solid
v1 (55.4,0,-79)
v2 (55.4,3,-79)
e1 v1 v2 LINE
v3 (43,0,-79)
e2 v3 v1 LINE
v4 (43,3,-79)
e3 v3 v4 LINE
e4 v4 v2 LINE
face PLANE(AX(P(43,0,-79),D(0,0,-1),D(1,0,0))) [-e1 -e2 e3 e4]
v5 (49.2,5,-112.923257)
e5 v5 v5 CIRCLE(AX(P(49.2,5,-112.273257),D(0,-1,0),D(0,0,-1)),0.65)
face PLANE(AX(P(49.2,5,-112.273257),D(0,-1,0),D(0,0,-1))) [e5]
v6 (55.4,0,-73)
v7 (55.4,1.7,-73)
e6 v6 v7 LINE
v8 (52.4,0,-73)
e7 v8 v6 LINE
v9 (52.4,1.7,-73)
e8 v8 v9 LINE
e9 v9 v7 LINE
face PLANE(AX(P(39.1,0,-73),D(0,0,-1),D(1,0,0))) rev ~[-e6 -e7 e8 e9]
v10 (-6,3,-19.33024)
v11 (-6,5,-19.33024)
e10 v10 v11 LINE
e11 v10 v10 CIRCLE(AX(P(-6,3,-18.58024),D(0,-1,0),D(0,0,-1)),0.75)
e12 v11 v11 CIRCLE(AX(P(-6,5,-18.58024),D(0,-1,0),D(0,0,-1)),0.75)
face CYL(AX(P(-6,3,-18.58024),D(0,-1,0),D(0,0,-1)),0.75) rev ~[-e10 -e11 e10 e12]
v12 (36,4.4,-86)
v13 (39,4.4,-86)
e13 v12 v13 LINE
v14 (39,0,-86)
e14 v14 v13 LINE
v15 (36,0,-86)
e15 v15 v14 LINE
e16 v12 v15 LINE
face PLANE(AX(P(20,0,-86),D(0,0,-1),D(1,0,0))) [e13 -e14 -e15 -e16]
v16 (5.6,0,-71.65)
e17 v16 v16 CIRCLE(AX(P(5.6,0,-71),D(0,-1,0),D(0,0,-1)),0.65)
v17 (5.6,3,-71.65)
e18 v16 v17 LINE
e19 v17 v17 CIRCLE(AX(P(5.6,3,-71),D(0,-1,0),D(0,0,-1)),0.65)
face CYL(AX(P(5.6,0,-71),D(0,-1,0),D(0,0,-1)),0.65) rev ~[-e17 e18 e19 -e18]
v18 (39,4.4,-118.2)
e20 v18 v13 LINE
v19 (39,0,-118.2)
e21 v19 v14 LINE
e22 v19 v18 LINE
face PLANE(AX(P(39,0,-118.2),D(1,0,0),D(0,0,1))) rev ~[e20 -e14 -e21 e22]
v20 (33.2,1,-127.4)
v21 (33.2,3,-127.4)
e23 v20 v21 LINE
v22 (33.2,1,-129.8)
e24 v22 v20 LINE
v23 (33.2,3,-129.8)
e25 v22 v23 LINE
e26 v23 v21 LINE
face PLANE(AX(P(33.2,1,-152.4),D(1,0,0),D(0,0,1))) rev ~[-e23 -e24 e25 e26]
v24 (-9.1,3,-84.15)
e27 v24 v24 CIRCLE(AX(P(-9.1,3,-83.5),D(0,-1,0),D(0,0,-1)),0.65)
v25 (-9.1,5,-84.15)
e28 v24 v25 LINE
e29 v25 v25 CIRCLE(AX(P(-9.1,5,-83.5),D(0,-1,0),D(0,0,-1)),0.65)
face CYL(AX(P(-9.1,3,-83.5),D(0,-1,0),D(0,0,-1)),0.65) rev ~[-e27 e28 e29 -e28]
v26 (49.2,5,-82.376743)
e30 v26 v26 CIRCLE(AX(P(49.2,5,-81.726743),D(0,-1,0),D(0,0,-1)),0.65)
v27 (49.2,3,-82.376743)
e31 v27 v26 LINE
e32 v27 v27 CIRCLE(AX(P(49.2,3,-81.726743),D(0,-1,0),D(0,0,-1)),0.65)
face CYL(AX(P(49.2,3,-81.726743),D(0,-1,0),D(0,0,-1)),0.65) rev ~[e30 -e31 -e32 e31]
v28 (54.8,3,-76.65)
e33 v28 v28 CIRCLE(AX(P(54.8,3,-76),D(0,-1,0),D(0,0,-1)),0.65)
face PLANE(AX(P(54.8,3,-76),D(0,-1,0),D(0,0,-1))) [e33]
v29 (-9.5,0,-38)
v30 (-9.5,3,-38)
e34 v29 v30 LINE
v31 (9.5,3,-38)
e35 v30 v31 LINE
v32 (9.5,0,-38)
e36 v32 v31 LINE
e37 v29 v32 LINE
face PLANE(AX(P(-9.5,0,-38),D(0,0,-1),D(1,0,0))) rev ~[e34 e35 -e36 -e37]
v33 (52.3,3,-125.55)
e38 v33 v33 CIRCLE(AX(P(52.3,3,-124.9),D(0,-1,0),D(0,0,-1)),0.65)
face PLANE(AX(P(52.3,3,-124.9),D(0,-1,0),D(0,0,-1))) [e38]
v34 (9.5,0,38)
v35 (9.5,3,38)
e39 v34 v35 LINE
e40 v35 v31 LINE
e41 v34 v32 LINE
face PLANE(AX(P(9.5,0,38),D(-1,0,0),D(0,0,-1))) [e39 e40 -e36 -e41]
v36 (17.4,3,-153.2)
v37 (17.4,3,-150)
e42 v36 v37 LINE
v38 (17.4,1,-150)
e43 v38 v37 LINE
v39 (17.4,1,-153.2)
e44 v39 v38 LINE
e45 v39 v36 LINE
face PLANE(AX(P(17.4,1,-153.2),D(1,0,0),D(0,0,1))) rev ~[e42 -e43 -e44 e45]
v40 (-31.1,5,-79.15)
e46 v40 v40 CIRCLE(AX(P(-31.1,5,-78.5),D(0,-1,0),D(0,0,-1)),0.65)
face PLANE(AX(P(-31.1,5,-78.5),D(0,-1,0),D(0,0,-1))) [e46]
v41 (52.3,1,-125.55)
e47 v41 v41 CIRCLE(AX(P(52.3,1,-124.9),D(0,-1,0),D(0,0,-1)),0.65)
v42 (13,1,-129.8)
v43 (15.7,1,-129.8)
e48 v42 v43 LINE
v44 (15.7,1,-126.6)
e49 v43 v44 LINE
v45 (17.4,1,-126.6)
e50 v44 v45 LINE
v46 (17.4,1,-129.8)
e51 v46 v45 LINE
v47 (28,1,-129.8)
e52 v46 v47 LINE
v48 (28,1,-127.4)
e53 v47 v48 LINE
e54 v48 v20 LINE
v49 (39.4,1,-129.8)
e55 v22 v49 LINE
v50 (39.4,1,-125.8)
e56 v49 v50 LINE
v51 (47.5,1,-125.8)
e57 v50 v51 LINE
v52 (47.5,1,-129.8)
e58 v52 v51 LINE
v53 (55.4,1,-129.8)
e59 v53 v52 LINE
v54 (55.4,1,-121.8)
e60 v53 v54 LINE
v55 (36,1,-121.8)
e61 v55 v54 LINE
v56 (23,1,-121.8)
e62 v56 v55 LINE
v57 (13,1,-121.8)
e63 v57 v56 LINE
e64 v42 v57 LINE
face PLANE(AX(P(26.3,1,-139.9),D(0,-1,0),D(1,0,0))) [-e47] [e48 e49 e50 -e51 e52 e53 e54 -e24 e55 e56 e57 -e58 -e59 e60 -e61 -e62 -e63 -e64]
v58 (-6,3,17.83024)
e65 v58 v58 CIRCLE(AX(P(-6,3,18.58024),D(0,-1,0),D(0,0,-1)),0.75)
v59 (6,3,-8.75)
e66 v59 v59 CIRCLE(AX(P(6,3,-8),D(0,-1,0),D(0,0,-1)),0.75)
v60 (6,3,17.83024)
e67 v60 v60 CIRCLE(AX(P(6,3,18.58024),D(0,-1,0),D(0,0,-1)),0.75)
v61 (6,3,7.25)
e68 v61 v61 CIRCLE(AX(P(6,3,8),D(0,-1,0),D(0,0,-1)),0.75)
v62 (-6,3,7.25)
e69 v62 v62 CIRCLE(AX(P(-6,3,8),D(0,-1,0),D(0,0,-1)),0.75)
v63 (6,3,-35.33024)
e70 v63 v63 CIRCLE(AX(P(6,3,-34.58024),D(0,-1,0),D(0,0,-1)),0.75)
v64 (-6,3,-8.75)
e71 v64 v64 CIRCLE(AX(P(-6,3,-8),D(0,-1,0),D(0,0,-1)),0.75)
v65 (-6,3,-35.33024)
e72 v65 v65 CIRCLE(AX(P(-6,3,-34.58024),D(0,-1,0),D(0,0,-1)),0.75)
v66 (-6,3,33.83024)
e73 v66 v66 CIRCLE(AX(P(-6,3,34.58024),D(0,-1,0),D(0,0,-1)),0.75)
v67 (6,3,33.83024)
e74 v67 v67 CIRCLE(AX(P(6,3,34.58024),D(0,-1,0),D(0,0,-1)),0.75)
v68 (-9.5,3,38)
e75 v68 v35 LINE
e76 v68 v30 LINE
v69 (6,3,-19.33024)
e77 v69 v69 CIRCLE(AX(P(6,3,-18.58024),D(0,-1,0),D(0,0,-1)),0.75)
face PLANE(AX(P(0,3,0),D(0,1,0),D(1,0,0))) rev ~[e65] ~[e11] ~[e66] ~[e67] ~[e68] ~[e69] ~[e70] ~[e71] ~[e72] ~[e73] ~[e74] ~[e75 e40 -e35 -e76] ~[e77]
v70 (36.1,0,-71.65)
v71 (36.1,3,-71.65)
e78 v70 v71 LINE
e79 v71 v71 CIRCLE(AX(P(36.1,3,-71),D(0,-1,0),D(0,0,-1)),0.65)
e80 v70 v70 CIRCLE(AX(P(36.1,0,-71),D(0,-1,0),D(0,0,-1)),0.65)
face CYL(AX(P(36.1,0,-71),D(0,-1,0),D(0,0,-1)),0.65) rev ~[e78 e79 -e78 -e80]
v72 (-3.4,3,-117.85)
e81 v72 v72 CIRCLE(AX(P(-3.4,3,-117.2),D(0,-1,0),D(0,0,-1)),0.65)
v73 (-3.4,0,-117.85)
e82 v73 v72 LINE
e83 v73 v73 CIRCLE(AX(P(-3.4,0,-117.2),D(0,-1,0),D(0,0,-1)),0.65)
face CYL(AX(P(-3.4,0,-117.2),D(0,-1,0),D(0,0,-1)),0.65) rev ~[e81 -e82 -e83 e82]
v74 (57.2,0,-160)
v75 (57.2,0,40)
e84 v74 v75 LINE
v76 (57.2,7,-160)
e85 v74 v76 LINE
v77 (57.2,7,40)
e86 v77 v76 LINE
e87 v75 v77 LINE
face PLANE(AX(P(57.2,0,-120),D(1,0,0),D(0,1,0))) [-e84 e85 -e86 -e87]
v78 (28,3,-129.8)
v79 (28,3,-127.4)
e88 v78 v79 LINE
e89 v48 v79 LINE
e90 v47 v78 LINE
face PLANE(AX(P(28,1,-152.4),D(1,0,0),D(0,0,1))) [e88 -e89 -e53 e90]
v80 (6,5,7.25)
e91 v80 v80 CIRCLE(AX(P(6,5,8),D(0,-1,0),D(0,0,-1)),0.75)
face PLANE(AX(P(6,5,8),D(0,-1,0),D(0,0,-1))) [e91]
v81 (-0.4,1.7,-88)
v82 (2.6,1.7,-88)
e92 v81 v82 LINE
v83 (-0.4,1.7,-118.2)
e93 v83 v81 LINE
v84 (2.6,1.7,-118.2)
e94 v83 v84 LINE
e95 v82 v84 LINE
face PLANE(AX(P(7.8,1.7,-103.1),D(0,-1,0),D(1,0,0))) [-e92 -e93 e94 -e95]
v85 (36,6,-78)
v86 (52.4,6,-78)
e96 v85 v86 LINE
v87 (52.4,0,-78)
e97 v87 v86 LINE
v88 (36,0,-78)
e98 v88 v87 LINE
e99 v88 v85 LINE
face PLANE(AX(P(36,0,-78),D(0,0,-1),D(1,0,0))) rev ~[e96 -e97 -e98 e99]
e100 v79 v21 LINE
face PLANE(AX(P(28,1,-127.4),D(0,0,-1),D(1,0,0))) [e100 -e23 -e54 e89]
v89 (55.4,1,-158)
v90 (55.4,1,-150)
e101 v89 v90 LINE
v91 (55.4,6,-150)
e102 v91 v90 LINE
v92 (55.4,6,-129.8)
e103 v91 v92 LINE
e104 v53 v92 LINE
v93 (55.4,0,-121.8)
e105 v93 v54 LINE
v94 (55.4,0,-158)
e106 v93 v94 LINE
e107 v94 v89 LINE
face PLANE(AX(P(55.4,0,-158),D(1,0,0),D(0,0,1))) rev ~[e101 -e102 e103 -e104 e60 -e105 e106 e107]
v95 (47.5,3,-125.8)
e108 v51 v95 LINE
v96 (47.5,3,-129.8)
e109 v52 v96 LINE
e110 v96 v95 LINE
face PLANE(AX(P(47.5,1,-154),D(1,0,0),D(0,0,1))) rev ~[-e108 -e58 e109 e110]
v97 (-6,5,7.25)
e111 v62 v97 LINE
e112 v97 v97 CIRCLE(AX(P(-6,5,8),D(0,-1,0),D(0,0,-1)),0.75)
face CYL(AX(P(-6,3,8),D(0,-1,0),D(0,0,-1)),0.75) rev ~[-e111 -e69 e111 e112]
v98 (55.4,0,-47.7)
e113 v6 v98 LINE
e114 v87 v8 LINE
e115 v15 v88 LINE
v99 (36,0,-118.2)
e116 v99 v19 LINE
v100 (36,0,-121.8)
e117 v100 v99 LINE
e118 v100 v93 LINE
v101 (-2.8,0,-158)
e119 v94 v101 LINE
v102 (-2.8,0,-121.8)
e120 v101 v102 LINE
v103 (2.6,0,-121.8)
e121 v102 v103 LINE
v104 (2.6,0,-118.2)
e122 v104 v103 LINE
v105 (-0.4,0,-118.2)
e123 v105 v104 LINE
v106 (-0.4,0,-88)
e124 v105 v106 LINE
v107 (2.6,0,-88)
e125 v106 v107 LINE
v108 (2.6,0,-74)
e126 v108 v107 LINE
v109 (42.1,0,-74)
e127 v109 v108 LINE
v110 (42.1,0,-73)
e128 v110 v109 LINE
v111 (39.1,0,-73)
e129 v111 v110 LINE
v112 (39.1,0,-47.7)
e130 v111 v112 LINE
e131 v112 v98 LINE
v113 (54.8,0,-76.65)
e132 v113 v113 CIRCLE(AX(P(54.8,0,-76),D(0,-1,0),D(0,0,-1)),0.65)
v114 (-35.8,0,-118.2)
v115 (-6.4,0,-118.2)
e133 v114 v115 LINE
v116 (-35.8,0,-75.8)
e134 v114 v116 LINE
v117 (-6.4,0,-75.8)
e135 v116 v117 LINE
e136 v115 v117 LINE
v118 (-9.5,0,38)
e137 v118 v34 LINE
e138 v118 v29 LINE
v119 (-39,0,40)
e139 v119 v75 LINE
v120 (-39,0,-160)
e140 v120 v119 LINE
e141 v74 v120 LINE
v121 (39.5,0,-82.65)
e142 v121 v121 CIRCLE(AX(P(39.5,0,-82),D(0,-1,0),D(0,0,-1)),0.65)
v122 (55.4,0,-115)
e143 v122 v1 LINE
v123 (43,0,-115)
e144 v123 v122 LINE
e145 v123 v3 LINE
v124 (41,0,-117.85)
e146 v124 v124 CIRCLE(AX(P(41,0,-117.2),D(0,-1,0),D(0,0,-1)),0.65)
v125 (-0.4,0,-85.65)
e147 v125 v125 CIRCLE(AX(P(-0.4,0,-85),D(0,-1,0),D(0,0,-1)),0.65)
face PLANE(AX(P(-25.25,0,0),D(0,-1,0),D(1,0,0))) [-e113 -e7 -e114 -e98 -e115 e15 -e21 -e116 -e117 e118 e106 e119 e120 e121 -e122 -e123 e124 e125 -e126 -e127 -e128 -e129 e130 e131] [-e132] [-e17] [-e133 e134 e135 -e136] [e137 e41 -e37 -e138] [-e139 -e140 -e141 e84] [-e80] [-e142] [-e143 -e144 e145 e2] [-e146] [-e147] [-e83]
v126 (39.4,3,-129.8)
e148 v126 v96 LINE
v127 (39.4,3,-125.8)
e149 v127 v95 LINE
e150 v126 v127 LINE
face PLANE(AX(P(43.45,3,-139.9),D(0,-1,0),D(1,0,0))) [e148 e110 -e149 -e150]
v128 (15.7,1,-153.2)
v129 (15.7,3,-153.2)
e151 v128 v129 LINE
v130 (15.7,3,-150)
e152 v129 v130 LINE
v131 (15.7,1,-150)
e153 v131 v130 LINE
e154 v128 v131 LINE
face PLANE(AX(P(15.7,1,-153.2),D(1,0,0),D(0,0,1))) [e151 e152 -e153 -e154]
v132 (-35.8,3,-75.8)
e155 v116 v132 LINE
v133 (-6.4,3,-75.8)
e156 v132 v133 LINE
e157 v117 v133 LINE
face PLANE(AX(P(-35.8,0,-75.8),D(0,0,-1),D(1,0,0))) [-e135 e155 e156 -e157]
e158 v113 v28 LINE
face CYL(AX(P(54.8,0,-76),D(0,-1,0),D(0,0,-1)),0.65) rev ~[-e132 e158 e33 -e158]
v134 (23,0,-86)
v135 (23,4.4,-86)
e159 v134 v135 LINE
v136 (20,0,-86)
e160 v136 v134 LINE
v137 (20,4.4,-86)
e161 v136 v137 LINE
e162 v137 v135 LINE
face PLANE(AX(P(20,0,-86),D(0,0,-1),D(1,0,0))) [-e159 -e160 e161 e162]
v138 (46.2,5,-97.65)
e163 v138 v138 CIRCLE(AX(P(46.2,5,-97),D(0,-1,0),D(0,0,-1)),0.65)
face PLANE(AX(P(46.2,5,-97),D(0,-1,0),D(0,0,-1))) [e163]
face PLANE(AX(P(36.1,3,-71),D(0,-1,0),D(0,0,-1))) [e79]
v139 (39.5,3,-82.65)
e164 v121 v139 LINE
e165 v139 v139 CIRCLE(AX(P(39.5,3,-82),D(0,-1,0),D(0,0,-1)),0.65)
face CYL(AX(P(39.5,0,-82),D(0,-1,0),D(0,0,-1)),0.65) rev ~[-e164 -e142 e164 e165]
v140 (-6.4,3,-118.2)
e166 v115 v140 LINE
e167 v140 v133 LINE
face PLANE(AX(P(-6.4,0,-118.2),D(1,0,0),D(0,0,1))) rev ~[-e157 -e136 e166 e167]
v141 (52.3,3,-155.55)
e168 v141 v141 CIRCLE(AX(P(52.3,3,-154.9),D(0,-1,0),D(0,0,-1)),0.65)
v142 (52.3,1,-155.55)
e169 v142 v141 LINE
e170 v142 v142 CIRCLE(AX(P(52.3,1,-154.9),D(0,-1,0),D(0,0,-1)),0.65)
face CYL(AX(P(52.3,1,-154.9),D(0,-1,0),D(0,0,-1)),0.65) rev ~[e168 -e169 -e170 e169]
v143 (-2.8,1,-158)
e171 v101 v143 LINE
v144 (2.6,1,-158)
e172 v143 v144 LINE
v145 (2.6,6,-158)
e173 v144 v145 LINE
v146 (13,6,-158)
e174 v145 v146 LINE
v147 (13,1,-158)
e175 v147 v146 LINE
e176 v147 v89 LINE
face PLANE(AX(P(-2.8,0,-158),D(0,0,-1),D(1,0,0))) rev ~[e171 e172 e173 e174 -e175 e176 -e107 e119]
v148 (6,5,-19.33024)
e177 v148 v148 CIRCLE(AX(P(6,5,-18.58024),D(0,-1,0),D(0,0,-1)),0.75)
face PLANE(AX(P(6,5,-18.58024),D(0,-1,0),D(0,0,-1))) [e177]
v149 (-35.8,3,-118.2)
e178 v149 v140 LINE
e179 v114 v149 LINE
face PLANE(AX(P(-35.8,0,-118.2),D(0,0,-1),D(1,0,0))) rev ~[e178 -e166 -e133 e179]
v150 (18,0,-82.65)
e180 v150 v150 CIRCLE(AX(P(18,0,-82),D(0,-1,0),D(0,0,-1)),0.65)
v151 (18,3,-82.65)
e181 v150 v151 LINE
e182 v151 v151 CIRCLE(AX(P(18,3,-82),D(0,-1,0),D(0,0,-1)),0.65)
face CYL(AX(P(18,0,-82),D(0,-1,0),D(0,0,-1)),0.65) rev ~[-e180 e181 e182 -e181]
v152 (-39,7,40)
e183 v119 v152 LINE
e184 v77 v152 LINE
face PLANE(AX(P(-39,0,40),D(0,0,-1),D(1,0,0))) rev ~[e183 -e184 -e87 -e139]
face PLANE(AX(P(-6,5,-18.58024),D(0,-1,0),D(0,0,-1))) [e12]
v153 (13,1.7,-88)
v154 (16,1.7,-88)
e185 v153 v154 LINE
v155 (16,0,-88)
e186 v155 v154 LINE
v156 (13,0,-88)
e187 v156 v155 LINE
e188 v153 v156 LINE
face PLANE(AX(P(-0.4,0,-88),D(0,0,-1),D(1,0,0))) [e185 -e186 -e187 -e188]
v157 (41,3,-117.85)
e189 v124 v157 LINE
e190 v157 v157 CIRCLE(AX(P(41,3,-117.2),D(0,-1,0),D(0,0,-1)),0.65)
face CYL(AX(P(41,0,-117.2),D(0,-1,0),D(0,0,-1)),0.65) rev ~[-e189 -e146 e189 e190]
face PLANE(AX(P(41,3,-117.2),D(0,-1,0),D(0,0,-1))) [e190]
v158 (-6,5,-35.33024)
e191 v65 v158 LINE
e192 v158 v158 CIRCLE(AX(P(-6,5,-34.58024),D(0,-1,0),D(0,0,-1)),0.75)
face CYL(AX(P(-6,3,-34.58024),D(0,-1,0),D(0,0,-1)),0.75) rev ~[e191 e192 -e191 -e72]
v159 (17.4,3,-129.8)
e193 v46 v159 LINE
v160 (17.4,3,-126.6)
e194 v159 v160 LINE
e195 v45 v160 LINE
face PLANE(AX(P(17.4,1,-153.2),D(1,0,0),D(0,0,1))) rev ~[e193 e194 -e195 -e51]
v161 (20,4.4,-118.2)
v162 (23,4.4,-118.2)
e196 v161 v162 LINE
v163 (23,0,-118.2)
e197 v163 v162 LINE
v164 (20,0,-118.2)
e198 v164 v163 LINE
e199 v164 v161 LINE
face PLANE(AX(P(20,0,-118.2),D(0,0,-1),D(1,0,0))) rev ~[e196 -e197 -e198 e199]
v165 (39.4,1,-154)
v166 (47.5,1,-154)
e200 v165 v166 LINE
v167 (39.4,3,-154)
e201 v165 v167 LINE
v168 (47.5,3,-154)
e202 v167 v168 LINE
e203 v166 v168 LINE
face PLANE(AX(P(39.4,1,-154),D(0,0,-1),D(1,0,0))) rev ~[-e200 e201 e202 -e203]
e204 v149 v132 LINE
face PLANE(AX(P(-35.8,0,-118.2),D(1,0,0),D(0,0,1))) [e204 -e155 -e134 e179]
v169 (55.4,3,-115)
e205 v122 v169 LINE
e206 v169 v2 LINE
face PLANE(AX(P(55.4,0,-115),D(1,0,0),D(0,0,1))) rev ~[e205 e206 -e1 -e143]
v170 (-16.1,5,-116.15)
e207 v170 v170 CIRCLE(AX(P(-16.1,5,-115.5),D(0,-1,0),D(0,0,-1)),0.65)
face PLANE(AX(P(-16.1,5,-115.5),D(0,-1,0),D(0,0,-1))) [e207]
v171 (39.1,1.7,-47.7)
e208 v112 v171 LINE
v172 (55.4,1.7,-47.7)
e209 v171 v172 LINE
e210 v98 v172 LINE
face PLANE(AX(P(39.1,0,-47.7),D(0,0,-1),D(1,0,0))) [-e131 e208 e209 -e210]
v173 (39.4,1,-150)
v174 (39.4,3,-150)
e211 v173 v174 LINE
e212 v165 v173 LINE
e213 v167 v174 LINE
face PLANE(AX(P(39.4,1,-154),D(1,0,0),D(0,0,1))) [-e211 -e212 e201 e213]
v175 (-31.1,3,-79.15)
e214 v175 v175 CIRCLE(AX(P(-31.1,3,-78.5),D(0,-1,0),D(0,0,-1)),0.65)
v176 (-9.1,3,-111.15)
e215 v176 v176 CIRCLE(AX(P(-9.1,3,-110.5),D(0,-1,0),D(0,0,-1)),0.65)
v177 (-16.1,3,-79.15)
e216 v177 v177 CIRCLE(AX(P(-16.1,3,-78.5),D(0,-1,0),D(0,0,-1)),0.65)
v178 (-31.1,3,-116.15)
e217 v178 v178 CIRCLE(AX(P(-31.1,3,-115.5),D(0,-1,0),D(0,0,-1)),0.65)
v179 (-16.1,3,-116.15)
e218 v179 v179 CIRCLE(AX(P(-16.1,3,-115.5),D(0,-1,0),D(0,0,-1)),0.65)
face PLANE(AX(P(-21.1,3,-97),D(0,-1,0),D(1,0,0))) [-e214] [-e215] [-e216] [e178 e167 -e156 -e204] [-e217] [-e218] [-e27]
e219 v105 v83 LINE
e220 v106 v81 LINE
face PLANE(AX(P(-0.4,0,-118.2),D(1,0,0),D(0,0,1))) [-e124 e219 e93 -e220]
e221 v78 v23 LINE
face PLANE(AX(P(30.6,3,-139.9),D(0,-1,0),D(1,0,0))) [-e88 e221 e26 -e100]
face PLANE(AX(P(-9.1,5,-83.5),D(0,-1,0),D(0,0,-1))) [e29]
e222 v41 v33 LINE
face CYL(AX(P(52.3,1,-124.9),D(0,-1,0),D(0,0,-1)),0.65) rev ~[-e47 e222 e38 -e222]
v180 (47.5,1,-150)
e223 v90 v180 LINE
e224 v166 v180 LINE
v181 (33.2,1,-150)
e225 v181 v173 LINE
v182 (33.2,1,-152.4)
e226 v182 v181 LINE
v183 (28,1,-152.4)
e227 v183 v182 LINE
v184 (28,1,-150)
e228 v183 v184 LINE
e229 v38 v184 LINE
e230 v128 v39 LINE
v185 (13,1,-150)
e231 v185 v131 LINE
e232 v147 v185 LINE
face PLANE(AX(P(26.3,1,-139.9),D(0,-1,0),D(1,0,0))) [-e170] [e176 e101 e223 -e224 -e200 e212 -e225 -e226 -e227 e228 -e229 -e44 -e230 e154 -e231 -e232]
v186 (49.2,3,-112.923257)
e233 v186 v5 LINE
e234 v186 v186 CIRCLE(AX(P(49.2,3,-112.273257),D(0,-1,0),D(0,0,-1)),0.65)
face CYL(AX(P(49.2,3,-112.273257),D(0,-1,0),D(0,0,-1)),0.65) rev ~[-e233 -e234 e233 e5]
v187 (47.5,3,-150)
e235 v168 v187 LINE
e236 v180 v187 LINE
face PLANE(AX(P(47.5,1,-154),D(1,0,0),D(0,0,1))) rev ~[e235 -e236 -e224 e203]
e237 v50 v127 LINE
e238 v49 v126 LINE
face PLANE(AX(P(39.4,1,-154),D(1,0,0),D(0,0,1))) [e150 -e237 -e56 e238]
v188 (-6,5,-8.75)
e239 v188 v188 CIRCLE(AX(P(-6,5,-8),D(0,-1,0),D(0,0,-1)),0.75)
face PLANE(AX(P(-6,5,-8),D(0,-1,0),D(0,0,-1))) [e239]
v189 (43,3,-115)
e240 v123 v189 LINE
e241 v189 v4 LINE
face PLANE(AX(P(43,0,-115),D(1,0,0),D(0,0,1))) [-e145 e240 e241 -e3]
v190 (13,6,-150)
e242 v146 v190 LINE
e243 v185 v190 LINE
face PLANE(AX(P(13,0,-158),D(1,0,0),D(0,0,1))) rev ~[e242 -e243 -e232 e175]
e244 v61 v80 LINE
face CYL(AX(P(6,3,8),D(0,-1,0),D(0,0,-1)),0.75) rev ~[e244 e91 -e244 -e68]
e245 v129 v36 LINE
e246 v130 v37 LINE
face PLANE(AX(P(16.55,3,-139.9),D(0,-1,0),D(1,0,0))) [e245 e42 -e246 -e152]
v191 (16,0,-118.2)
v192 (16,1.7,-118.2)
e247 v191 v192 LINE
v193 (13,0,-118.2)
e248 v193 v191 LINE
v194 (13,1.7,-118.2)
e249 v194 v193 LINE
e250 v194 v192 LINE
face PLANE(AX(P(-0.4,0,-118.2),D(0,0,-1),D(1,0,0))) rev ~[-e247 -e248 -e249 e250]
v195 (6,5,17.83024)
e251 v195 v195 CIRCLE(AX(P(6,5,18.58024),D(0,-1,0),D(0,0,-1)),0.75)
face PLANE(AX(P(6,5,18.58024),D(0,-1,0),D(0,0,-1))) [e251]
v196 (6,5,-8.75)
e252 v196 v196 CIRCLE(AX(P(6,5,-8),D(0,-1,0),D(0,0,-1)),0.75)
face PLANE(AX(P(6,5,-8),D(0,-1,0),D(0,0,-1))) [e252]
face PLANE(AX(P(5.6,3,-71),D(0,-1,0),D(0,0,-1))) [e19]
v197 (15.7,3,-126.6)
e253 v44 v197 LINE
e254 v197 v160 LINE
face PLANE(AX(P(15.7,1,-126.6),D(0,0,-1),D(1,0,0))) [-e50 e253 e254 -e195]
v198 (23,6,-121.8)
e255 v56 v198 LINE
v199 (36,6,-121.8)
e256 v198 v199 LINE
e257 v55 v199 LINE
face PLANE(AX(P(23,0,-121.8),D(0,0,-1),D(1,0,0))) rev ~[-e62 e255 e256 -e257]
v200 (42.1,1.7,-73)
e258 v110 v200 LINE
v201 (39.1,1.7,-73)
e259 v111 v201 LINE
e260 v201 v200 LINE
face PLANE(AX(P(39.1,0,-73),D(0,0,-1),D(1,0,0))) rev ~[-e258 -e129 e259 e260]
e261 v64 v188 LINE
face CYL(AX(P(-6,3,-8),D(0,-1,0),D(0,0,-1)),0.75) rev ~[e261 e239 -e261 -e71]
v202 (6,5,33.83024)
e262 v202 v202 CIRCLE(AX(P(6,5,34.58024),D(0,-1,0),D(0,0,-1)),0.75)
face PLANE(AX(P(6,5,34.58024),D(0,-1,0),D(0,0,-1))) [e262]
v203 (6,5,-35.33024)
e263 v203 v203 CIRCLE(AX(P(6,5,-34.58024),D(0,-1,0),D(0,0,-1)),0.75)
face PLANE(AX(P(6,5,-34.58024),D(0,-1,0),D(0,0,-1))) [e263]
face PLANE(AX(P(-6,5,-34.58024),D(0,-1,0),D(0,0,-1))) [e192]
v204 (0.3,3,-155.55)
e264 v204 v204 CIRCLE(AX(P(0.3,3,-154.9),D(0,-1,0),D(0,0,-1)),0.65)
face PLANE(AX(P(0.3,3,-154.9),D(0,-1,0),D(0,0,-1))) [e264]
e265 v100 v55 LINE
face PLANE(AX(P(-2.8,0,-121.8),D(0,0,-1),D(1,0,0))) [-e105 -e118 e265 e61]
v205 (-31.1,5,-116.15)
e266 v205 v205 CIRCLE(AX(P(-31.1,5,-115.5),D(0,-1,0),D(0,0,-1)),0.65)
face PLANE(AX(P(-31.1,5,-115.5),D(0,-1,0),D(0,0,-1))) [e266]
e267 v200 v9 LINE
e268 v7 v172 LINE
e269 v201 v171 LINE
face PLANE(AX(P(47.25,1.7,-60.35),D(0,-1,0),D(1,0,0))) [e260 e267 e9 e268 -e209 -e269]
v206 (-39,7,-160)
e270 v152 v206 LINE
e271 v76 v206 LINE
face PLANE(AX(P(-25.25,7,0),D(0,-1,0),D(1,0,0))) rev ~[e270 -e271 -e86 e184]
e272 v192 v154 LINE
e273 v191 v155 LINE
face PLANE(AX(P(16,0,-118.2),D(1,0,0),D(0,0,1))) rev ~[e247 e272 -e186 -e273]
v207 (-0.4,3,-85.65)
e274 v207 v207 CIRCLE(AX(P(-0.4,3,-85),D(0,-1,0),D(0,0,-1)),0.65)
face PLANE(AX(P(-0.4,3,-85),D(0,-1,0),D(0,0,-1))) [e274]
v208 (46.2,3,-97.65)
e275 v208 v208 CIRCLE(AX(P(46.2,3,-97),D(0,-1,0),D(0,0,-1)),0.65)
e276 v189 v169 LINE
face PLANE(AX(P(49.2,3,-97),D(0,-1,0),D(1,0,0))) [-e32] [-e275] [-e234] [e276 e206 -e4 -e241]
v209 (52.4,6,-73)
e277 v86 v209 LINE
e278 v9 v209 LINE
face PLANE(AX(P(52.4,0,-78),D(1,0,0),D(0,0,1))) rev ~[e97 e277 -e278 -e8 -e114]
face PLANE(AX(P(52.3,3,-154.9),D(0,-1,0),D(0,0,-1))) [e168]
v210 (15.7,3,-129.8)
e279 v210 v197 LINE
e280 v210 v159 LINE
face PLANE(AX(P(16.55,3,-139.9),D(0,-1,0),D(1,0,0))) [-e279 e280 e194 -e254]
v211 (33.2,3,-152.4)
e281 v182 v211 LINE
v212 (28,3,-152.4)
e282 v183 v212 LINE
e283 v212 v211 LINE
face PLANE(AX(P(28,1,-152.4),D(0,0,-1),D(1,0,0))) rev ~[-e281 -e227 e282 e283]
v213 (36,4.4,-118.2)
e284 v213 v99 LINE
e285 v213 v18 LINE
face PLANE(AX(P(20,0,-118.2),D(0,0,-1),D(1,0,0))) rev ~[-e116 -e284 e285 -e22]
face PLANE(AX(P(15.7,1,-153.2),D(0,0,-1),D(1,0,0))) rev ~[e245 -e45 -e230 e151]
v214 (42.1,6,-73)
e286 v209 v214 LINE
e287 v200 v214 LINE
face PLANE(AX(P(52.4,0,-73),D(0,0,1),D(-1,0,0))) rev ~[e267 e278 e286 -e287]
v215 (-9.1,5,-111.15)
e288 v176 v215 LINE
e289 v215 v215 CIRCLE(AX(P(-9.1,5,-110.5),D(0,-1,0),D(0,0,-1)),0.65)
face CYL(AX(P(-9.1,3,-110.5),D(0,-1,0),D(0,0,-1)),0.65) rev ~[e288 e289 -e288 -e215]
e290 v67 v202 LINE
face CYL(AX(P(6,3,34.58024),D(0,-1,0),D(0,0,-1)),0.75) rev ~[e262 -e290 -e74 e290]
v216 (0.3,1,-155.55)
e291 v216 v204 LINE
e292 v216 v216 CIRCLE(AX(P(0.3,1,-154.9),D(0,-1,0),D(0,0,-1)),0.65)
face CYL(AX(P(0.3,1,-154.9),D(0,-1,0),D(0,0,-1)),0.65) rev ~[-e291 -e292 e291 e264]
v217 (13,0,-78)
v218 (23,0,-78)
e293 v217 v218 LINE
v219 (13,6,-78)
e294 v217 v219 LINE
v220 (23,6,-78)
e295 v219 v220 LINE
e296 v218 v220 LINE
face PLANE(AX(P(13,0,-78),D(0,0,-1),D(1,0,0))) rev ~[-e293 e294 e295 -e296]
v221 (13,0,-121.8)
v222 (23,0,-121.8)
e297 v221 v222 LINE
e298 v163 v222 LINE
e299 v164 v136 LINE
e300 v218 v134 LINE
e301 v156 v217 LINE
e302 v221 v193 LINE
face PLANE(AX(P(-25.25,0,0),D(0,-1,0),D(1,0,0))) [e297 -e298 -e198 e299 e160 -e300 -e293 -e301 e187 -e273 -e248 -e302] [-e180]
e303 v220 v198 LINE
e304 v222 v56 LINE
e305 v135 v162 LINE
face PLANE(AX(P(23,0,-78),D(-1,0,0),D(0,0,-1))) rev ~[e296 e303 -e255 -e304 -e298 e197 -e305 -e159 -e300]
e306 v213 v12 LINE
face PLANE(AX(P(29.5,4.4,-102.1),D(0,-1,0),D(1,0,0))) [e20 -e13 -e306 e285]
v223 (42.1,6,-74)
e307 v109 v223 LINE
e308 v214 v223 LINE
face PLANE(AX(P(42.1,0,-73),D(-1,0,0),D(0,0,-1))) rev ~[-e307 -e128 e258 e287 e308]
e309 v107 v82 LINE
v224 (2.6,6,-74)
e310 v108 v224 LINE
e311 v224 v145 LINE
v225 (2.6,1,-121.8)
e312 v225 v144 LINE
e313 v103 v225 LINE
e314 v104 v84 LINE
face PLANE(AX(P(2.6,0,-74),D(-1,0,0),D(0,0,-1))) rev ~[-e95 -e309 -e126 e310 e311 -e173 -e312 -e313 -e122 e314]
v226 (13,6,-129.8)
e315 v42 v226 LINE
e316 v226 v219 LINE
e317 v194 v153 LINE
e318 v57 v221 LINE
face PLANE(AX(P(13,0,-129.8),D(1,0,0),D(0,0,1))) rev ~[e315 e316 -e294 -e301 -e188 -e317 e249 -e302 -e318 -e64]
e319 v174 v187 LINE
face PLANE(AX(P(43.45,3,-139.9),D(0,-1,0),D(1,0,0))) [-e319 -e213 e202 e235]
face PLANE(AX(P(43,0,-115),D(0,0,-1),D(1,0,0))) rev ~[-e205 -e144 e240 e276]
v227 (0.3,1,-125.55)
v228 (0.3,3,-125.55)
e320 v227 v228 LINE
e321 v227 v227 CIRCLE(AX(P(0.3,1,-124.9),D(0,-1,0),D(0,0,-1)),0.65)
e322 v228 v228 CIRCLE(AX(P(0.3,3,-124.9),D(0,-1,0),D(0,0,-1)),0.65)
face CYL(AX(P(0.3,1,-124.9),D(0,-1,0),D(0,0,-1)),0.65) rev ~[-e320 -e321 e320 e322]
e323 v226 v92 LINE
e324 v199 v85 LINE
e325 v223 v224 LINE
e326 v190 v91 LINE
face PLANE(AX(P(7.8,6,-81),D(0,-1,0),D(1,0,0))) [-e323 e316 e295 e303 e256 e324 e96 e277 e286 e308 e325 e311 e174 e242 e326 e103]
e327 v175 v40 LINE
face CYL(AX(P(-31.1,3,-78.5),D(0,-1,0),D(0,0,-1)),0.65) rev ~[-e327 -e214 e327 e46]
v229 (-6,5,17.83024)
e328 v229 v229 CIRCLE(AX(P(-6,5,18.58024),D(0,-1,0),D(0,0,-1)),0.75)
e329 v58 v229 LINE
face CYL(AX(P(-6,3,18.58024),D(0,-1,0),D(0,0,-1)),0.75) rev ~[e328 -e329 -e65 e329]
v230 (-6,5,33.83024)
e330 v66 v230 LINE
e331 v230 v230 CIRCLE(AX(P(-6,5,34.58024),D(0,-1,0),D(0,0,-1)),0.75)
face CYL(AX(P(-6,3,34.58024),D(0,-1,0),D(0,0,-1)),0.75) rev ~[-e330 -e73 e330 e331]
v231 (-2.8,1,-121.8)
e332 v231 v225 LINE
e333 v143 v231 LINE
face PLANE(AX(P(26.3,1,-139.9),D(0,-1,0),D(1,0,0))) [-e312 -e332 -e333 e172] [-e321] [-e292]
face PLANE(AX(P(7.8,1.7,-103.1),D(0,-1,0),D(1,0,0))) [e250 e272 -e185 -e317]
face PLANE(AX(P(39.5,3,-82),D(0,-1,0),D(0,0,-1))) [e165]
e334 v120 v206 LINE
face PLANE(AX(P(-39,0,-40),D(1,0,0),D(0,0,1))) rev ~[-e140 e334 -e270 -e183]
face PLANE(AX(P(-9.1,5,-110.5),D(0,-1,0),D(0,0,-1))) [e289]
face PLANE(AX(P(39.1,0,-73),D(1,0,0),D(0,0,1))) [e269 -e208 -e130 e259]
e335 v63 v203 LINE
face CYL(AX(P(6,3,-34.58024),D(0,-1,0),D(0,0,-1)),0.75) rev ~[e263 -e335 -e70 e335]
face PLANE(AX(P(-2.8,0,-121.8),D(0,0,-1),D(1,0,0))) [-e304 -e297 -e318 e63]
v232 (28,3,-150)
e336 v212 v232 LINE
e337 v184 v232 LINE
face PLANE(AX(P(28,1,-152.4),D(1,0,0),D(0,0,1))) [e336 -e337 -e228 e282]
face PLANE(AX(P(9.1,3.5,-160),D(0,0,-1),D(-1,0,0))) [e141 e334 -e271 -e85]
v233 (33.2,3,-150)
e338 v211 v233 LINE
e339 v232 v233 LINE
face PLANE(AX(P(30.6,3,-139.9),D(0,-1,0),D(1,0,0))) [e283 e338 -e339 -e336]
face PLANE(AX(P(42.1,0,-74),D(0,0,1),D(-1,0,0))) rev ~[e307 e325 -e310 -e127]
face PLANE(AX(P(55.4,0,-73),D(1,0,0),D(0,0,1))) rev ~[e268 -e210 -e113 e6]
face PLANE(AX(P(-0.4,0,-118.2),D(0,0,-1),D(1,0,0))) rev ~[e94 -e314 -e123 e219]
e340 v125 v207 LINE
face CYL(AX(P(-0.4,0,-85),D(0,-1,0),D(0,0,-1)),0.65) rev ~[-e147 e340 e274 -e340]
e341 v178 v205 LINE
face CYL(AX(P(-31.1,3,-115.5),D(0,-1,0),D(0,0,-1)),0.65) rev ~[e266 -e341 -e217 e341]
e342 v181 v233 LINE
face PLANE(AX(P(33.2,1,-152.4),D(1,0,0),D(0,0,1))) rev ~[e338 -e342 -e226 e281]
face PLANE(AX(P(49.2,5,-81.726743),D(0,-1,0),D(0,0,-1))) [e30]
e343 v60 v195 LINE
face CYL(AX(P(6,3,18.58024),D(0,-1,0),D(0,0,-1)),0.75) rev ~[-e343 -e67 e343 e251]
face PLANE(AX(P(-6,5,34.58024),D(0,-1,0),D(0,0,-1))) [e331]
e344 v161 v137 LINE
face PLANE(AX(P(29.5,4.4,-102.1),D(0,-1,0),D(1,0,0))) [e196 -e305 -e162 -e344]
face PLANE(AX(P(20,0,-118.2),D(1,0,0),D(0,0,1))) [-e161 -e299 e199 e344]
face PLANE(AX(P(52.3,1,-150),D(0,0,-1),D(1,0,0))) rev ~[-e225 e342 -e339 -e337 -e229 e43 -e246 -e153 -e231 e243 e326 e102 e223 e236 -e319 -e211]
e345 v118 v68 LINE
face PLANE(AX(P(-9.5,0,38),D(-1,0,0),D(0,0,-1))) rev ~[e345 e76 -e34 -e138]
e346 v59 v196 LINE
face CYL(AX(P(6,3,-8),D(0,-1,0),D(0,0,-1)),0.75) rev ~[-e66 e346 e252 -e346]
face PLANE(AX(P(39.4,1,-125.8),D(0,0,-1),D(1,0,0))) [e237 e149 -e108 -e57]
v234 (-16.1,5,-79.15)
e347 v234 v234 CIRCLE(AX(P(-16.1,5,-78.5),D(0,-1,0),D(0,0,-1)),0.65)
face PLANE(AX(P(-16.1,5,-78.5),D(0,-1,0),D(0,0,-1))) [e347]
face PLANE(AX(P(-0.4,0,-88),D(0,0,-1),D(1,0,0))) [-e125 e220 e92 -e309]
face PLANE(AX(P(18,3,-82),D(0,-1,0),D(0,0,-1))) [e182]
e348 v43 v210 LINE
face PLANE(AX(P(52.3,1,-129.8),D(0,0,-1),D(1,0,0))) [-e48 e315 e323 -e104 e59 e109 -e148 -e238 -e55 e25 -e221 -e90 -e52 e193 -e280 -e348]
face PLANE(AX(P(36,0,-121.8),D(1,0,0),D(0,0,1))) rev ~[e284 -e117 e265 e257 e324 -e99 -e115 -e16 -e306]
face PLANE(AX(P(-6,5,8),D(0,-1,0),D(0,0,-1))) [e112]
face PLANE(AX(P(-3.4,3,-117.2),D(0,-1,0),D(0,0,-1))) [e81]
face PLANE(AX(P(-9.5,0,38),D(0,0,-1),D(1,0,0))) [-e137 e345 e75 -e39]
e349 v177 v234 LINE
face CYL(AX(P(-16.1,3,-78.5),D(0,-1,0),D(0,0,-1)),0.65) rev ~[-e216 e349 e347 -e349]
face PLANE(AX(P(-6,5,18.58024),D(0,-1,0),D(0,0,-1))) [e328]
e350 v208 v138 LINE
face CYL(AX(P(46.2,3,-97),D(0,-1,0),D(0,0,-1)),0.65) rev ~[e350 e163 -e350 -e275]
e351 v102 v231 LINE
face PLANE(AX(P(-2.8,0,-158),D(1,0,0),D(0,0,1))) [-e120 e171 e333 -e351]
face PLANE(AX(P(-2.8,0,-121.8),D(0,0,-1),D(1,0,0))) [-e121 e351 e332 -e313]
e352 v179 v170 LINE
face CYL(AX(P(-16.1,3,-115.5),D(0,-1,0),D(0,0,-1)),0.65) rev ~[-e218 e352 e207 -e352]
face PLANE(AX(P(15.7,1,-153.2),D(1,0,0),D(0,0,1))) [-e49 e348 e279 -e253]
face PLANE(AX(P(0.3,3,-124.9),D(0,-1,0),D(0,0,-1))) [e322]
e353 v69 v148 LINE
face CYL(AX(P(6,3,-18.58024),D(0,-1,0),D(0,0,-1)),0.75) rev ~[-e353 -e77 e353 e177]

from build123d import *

# Parameters (mm, degrees)
SKETCH_1_W           = 23
SKETCH_1_H           = 80
EXTRUDE_1_DEPTH      = 7
SKETCH_1_5_W         = 19
SKETCH_1_5_H         = 76
CUT_EXTRUDE_2_DEPTH  = 3
SKETCH_2_R           = 0.75
CUT_EXTRUDE_3_DEPTH  = 2
SKETCH_4_W           = 96.2
SKETCH_4_H           = 80
EXTRUDE_2_DEPTH      = 7
SKETCH_5_W           = 29.4
SKETCH_5_H           = 42.4
SKETCH_5_W_2         = 12.4
SKETCH_5_H_2         = 36
CUT_EXTRUDE_4_DEPTH  = 3
SKETCH_6_R           = 0.65
CUT_EXTRUDE_5_DEPTH  = 2
SKETCH_8_W           = 96.2
SKETCH_8_H           = 7
EXTRUDE_3_DEPTH      = 40
SKETCH_15_W          = 27.5
SKETCH_15_H          = 80
SKETCH_15_W_2        = 45.7
EXTRUDE_4_DEPTH      = 7
SKETCH_9_W           = 58.2
SKETCH_9_H           = 36.2
CUT_EXTRUDE_6_DEPTH  = 1
SKETCH_10_W          = 1.7
SKETCH_10_H          = 26.6
SKETCH_10_W_2        = 5.2
SKETCH_10_H_2        = 25
SKETCH_10_W_3        = 8.1
SKETCH_10_H_3        = 28.2
SKETCH_10_W_4        = 3.1
SKETCH_10_H_4        = 20.2
CUT_EXTRUDE_7_DEPTH  = 2
SKETCH_11_R          = 0.65
CUT_EXTRUDE_8_DEPTH  = 2
SKETCH_12_W          = 16.4
SKETCH_12_H          = 30.2
CUT_EXTRUDE_9_DEPTH  = 1.7
SKETCH_13_W          = 19
SKETCH_13_H          = 32.2
CUT_EXTRUDE_10_DEPTH = 4.4
SKETCH_14_W          = 16.3
SKETCH_14_H          = 25.3
CUT_EXTRUDE_11_DEPTH = 1.7
SKETCH_16_W          = 10
SKETCH_16_H          = 4
SKETCH_16_W_2        = 6.1
SKETCH_16_W_3        = 13
SKETCH_16_H_2        = 32.2
SKETCH_16_W_4        = 10.4
SKETCH_16_H_3        = 30.2
SKETCH_16_H_4        = 3.6
SKETCH_16_W_5        = 42.4
SKETCH_16_H_5        = 20.2
CUT_EXTRUDE_12_DEPTH = 6
SKETCH_17_R          = 0.65
CUT_EXTRUDE_13_DEPTH = 3


with BuildPart() as part:
    # 草图1 → 凸台-拉伸1 (new body)
    with BuildSketch(Plane(origin=(0, 0, 0), x_dir=(1, 0, 0), z_dir=(0, 1, 0))):
        Rectangle(SKETCH_1_W, SKETCH_1_H)
    extrude(amount=EXTRUDE_1_DEPTH)

    # 草图1<5> → 切除-拉伸2 (cut)
    with BuildSketch(Plane(origin=(0, 0, 0), x_dir=(1, 0, 0), z_dir=(0, 1, 0))):
        Rectangle(SKETCH_1_5_W, SKETCH_1_5_H)
    extrude(amount=CUT_EXTRUDE_2_DEPTH, mode=Mode.SUBTRACT)

    # 草图2 → 切除-拉伸3 (cut)
    with BuildSketch(Plane.XZ.offset(-3)):
        with Locations(Location((-6, 34.580239709, 0), (0, 0, 270))):
            Circle(SKETCH_2_R)
        with Locations(Location((6, 34.580239709, 0), (0, 0, 270))):
            Circle(SKETCH_2_R)
        with Locations(Location((6, 18.580239709, 0), (0, 0, 270))):
            Circle(SKETCH_2_R)
        with Locations(Location((-6, 18.580239709, 0), (0, 0, 270))):
            Circle(SKETCH_2_R)
        with Locations(Location((-6, 8, 0), (0, 0, 270))):
            Circle(SKETCH_2_R)
        with Locations(Location((6, 8, 0), (0, 0, 270))):
            Circle(SKETCH_2_R)
        with Locations(Location((6, -8, 0), (0, 0, 270))):
            Circle(SKETCH_2_R)
        with Locations(Location((-6, -8, 0), (0, 0, 270))):
            Circle(SKETCH_2_R)
        with Locations(Location((-6, -18.580239709, 0), (0, 0, 270))):
            Circle(SKETCH_2_R)
        with Locations(Location((6, -18.580239709, 0), (0, 0, 270))):
            Circle(SKETCH_2_R)
        with Locations(Location((6, -34.580239709, 0), (0, 0, 270))):
            Circle(SKETCH_2_R)
        with Locations(Location((-6, -34.580239709, 0), (0, 0, 270))):
            Circle(SKETCH_2_R)
    extrude(amount=-CUT_EXTRUDE_3_DEPTH, mode=Mode.SUBTRACT)

    # 草图4 → 凸台-拉伸2 (add)
    with BuildSketch(Plane(origin=(0, 7, 0), x_dir=(1, 0, 0), z_dir=(0, 1, 0))):
        with Locations((9.1, 80)):
            Rectangle(SKETCH_4_W, SKETCH_4_H)
    extrude(amount=-EXTRUDE_2_DEPTH)

    # 草图5 → 切除-拉伸4 (cut)
    with BuildSketch(Plane.XZ):
        with Locations((-21.1, -97)):
            Rectangle(SKETCH_5_W, SKETCH_5_H)
        with Locations((49.2, -97)):
            Rectangle(SKETCH_5_W_2, SKETCH_5_H_2)
    extrude(amount=-CUT_EXTRUDE_4_DEPTH, mode=Mode.SUBTRACT)

    # 草图6 → 切除-拉伸5 (cut)
    with BuildSketch(Plane.XZ.offset(-3)):
        with Locations(Location((-31.1, -78.5, 0), (0, 0, 270))):
            Circle(SKETCH_6_R)
        with Locations(Location((-16.1, -78.5, 0), (0, 0, 270))):
            Circle(SKETCH_6_R)
        with Locations(Location((-31.1, -115.5, 0), (0, 0, 270))):
            Circle(SKETCH_6_R)
        with Locations(Location((-16.1, -115.5, 0), (0, 0, 270))):
            Circle(SKETCH_6_R)
        with Locations(Location((49.2, -112.273257218, 0), (0, 0, 270))):
            Circle(SKETCH_6_R)
        with Locations(Location((46.2, -97, 0), (0, 0, 270))):
            Circle(SKETCH_6_R)
        with Locations(Location((49.2, -81.726742782, 0), (0, 0, 270))):
            Circle(SKETCH_6_R)
        with Locations(Location((-9.1, -110.5, 0), (0, 0, 270))):
            Circle(SKETCH_6_R)
        with Locations(Location((-9.1, -83.5, 0), (0, 0, 270))):
            Circle(SKETCH_6_R)
    extrude(amount=-CUT_EXTRUDE_5_DEPTH, mode=Mode.SUBTRACT)

    # 草图8 → 凸台-拉伸3 (add)
    with BuildSketch(Plane(origin=(0, 0, -120), x_dir=(-1, 0, 0), z_dir=(0, 0, -1))):
        with Locations((-9.1, 3.5)):
            Rectangle(SKETCH_8_W, SKETCH_8_H)
    extrude(amount=EXTRUDE_3_DEPTH)

    # 草图15 → 凸台-拉伸4 (add, through all)
    with BuildSketch(Plane.XZ):
        with Locations((-25.25, 0)):
            Rectangle(SKETCH_15_W, SKETCH_15_H)
        with Locations((34.35, 0)):
            Rectangle(SKETCH_15_W_2, SKETCH_15_H)
    extrude(amount=-EXTRUDE_4_DEPTH)

    # 草图9 → 切除-拉伸6 (cut)
    with BuildSketch(Plane.XZ):
        with Locations((26.3, -139.9)):
            Rectangle(SKETCH_9_W, SKETCH_9_H)
    extrude(amount=-CUT_EXTRUDE_6_DEPTH, mode=Mode.SUBTRACT)

    # 草图10 → 切除-拉伸7 (cut)
    with BuildSketch(Plane.XZ.offset(-1)):
        with Locations((16.55, -139.9)):
            Rectangle(SKETCH_10_W, SKETCH_10_H)
        with Locations((30.6, -139.9)):
            Rectangle(SKETCH_10_W_2, SKETCH_10_H_2)
        with Locations((43.45, -139.9)):
            Rectangle(SKETCH_10_W_3, SKETCH_10_H_3)
        with Locations((53.85, -139.9)):
            Rectangle(SKETCH_10_W_4, SKETCH_10_H_4)
    extrude(amount=-CUT_EXTRUDE_7_DEPTH, mode=Mode.SUBTRACT)

    # 草图11 → 切除-拉伸8 (cut)
    with BuildSketch(Plane.XZ.offset(-1)):
        with Locations(Location((0.3, -124.9, 0), (0, 0, 270))):
            Circle(SKETCH_11_R)
        with Locations(Location((0.3, -154.9, 0), (0, 0, 270))):
            Circle(SKETCH_11_R)
        with Locations(Location((52.3, -154.9, 0), (0, 0, 270))):
            Circle(SKETCH_11_R)
        with Locations(Location((52.3, -124.9, 0), (0, 0, 270))):
            Circle(SKETCH_11_R)
    extrude(amount=-CUT_EXTRUDE_8_DEPTH, mode=Mode.SUBTRACT)

    # 草图12 → 切除-拉伸9 (cut)
    with BuildSketch(Plane.XZ):
        with Locations((7.8, -103.1)):
            Rectangle(SKETCH_12_W, SKETCH_12_H)
    extrude(amount=-CUT_EXTRUDE_9_DEPTH, mode=Mode.SUBTRACT)

    # 草图13 → 切除-拉伸10 (cut)
    with BuildSketch(Plane.XZ):
        with Locations((29.5, -102.1)):
            Rectangle(SKETCH_13_W, SKETCH_13_H)
    extrude(amount=-CUT_EXTRUDE_10_DEPTH, mode=Mode.SUBTRACT)

    # 草图14 → 切除-拉伸11 (cut)
    with BuildSketch(Plane.XZ):
        with Locations((47.25, -60.35)):
            Rectangle(SKETCH_14_W, SKETCH_14_H)
    extrude(amount=-CUT_EXTRUDE_11_DEPTH, mode=Mode.SUBTRACT)

    # 草图16 → 切除-拉伸12 (cut)
    with BuildSketch(Plane.XZ):
        Polygon((2.6, -74), (2.6, -88), (13, -88), (13, -78), (13, -74), align=None)
        with Locations((18, -76)):
            Rectangle(SKETCH_16_W, SKETCH_16_H)
        Polygon((23, -74), (23, -78), (23, -86), (36, -86), (36, -78), (36, -74), align=None)
        with Locations((39.05, -76)):
            Rectangle(SKETCH_16_W_2, SKETCH_16_H)
        Polygon((42.1, -73), (42.1, -74), (42.1, -78), (52.4, -78), (52.4, -73), align=None)
        with Locations((29.5, -102.1)):
            Rectangle(SKETCH_16_W_3, SKETCH_16_H_2)
        with Locations((7.8, -103.1)):
            Rectangle(SKETCH_16_W_4, SKETCH_16_H_3)
        with Locations((7.8, -120)):
            Rectangle(SKETCH_16_W_4, SKETCH_16_H_4)
        with Locations((29.5, -120)):
            Rectangle(SKETCH_16_W_3, SKETCH_16_H_4)
        Polygon((13, -121.8), (2.6, -121.8), (2.6, -158), (13, -158), (13, -150), (13, -129.8), align=None)
        with Locations((34.2, -139.9)):
            Rectangle(SKETCH_16_W_5, SKETCH_16_H_5)
    extrude(amount=-CUT_EXTRUDE_12_DEPTH, mode=Mode.SUBTRACT)

    # 草图17 → 切除-拉伸13 (cut)
    with BuildSketch(Plane.XZ):
        with Locations(Location((-3.4, -117.2, 0), (0, 0, 270))):
            Circle(SKETCH_17_R)
        with Locations(Location((41, -117.2, 0), (0, 0, 270))):
            Circle(SKETCH_17_R)
        with Locations(Location((-0.4, -85, 0), (0, 0, 270))):
            Circle(SKETCH_17_R)
        with Locations(Location((5.6, -71, 0), (0, 0, 270))):
            Circle(SKETCH_17_R)
        with Locations(Location((36.1, -71, 0), (0, 0, 270))):
            Circle(SKETCH_17_R)
        with Locations(Location((18, -82, 0), (0, 0, 270))):
            Circle(SKETCH_17_R)
        with Locations(Location((39.5, -82, 0), (0, 0, 270))):
            Circle(SKETCH_17_R)
        with Locations(Location((54.8, -76, 0), (0, 0, 270))):
            Circle(SKETCH_17_R)
    extrude(amount=-CUT_EXTRUDE_13_DEPTH, mode=Mode.SUBTRACT)


solid = part.part
